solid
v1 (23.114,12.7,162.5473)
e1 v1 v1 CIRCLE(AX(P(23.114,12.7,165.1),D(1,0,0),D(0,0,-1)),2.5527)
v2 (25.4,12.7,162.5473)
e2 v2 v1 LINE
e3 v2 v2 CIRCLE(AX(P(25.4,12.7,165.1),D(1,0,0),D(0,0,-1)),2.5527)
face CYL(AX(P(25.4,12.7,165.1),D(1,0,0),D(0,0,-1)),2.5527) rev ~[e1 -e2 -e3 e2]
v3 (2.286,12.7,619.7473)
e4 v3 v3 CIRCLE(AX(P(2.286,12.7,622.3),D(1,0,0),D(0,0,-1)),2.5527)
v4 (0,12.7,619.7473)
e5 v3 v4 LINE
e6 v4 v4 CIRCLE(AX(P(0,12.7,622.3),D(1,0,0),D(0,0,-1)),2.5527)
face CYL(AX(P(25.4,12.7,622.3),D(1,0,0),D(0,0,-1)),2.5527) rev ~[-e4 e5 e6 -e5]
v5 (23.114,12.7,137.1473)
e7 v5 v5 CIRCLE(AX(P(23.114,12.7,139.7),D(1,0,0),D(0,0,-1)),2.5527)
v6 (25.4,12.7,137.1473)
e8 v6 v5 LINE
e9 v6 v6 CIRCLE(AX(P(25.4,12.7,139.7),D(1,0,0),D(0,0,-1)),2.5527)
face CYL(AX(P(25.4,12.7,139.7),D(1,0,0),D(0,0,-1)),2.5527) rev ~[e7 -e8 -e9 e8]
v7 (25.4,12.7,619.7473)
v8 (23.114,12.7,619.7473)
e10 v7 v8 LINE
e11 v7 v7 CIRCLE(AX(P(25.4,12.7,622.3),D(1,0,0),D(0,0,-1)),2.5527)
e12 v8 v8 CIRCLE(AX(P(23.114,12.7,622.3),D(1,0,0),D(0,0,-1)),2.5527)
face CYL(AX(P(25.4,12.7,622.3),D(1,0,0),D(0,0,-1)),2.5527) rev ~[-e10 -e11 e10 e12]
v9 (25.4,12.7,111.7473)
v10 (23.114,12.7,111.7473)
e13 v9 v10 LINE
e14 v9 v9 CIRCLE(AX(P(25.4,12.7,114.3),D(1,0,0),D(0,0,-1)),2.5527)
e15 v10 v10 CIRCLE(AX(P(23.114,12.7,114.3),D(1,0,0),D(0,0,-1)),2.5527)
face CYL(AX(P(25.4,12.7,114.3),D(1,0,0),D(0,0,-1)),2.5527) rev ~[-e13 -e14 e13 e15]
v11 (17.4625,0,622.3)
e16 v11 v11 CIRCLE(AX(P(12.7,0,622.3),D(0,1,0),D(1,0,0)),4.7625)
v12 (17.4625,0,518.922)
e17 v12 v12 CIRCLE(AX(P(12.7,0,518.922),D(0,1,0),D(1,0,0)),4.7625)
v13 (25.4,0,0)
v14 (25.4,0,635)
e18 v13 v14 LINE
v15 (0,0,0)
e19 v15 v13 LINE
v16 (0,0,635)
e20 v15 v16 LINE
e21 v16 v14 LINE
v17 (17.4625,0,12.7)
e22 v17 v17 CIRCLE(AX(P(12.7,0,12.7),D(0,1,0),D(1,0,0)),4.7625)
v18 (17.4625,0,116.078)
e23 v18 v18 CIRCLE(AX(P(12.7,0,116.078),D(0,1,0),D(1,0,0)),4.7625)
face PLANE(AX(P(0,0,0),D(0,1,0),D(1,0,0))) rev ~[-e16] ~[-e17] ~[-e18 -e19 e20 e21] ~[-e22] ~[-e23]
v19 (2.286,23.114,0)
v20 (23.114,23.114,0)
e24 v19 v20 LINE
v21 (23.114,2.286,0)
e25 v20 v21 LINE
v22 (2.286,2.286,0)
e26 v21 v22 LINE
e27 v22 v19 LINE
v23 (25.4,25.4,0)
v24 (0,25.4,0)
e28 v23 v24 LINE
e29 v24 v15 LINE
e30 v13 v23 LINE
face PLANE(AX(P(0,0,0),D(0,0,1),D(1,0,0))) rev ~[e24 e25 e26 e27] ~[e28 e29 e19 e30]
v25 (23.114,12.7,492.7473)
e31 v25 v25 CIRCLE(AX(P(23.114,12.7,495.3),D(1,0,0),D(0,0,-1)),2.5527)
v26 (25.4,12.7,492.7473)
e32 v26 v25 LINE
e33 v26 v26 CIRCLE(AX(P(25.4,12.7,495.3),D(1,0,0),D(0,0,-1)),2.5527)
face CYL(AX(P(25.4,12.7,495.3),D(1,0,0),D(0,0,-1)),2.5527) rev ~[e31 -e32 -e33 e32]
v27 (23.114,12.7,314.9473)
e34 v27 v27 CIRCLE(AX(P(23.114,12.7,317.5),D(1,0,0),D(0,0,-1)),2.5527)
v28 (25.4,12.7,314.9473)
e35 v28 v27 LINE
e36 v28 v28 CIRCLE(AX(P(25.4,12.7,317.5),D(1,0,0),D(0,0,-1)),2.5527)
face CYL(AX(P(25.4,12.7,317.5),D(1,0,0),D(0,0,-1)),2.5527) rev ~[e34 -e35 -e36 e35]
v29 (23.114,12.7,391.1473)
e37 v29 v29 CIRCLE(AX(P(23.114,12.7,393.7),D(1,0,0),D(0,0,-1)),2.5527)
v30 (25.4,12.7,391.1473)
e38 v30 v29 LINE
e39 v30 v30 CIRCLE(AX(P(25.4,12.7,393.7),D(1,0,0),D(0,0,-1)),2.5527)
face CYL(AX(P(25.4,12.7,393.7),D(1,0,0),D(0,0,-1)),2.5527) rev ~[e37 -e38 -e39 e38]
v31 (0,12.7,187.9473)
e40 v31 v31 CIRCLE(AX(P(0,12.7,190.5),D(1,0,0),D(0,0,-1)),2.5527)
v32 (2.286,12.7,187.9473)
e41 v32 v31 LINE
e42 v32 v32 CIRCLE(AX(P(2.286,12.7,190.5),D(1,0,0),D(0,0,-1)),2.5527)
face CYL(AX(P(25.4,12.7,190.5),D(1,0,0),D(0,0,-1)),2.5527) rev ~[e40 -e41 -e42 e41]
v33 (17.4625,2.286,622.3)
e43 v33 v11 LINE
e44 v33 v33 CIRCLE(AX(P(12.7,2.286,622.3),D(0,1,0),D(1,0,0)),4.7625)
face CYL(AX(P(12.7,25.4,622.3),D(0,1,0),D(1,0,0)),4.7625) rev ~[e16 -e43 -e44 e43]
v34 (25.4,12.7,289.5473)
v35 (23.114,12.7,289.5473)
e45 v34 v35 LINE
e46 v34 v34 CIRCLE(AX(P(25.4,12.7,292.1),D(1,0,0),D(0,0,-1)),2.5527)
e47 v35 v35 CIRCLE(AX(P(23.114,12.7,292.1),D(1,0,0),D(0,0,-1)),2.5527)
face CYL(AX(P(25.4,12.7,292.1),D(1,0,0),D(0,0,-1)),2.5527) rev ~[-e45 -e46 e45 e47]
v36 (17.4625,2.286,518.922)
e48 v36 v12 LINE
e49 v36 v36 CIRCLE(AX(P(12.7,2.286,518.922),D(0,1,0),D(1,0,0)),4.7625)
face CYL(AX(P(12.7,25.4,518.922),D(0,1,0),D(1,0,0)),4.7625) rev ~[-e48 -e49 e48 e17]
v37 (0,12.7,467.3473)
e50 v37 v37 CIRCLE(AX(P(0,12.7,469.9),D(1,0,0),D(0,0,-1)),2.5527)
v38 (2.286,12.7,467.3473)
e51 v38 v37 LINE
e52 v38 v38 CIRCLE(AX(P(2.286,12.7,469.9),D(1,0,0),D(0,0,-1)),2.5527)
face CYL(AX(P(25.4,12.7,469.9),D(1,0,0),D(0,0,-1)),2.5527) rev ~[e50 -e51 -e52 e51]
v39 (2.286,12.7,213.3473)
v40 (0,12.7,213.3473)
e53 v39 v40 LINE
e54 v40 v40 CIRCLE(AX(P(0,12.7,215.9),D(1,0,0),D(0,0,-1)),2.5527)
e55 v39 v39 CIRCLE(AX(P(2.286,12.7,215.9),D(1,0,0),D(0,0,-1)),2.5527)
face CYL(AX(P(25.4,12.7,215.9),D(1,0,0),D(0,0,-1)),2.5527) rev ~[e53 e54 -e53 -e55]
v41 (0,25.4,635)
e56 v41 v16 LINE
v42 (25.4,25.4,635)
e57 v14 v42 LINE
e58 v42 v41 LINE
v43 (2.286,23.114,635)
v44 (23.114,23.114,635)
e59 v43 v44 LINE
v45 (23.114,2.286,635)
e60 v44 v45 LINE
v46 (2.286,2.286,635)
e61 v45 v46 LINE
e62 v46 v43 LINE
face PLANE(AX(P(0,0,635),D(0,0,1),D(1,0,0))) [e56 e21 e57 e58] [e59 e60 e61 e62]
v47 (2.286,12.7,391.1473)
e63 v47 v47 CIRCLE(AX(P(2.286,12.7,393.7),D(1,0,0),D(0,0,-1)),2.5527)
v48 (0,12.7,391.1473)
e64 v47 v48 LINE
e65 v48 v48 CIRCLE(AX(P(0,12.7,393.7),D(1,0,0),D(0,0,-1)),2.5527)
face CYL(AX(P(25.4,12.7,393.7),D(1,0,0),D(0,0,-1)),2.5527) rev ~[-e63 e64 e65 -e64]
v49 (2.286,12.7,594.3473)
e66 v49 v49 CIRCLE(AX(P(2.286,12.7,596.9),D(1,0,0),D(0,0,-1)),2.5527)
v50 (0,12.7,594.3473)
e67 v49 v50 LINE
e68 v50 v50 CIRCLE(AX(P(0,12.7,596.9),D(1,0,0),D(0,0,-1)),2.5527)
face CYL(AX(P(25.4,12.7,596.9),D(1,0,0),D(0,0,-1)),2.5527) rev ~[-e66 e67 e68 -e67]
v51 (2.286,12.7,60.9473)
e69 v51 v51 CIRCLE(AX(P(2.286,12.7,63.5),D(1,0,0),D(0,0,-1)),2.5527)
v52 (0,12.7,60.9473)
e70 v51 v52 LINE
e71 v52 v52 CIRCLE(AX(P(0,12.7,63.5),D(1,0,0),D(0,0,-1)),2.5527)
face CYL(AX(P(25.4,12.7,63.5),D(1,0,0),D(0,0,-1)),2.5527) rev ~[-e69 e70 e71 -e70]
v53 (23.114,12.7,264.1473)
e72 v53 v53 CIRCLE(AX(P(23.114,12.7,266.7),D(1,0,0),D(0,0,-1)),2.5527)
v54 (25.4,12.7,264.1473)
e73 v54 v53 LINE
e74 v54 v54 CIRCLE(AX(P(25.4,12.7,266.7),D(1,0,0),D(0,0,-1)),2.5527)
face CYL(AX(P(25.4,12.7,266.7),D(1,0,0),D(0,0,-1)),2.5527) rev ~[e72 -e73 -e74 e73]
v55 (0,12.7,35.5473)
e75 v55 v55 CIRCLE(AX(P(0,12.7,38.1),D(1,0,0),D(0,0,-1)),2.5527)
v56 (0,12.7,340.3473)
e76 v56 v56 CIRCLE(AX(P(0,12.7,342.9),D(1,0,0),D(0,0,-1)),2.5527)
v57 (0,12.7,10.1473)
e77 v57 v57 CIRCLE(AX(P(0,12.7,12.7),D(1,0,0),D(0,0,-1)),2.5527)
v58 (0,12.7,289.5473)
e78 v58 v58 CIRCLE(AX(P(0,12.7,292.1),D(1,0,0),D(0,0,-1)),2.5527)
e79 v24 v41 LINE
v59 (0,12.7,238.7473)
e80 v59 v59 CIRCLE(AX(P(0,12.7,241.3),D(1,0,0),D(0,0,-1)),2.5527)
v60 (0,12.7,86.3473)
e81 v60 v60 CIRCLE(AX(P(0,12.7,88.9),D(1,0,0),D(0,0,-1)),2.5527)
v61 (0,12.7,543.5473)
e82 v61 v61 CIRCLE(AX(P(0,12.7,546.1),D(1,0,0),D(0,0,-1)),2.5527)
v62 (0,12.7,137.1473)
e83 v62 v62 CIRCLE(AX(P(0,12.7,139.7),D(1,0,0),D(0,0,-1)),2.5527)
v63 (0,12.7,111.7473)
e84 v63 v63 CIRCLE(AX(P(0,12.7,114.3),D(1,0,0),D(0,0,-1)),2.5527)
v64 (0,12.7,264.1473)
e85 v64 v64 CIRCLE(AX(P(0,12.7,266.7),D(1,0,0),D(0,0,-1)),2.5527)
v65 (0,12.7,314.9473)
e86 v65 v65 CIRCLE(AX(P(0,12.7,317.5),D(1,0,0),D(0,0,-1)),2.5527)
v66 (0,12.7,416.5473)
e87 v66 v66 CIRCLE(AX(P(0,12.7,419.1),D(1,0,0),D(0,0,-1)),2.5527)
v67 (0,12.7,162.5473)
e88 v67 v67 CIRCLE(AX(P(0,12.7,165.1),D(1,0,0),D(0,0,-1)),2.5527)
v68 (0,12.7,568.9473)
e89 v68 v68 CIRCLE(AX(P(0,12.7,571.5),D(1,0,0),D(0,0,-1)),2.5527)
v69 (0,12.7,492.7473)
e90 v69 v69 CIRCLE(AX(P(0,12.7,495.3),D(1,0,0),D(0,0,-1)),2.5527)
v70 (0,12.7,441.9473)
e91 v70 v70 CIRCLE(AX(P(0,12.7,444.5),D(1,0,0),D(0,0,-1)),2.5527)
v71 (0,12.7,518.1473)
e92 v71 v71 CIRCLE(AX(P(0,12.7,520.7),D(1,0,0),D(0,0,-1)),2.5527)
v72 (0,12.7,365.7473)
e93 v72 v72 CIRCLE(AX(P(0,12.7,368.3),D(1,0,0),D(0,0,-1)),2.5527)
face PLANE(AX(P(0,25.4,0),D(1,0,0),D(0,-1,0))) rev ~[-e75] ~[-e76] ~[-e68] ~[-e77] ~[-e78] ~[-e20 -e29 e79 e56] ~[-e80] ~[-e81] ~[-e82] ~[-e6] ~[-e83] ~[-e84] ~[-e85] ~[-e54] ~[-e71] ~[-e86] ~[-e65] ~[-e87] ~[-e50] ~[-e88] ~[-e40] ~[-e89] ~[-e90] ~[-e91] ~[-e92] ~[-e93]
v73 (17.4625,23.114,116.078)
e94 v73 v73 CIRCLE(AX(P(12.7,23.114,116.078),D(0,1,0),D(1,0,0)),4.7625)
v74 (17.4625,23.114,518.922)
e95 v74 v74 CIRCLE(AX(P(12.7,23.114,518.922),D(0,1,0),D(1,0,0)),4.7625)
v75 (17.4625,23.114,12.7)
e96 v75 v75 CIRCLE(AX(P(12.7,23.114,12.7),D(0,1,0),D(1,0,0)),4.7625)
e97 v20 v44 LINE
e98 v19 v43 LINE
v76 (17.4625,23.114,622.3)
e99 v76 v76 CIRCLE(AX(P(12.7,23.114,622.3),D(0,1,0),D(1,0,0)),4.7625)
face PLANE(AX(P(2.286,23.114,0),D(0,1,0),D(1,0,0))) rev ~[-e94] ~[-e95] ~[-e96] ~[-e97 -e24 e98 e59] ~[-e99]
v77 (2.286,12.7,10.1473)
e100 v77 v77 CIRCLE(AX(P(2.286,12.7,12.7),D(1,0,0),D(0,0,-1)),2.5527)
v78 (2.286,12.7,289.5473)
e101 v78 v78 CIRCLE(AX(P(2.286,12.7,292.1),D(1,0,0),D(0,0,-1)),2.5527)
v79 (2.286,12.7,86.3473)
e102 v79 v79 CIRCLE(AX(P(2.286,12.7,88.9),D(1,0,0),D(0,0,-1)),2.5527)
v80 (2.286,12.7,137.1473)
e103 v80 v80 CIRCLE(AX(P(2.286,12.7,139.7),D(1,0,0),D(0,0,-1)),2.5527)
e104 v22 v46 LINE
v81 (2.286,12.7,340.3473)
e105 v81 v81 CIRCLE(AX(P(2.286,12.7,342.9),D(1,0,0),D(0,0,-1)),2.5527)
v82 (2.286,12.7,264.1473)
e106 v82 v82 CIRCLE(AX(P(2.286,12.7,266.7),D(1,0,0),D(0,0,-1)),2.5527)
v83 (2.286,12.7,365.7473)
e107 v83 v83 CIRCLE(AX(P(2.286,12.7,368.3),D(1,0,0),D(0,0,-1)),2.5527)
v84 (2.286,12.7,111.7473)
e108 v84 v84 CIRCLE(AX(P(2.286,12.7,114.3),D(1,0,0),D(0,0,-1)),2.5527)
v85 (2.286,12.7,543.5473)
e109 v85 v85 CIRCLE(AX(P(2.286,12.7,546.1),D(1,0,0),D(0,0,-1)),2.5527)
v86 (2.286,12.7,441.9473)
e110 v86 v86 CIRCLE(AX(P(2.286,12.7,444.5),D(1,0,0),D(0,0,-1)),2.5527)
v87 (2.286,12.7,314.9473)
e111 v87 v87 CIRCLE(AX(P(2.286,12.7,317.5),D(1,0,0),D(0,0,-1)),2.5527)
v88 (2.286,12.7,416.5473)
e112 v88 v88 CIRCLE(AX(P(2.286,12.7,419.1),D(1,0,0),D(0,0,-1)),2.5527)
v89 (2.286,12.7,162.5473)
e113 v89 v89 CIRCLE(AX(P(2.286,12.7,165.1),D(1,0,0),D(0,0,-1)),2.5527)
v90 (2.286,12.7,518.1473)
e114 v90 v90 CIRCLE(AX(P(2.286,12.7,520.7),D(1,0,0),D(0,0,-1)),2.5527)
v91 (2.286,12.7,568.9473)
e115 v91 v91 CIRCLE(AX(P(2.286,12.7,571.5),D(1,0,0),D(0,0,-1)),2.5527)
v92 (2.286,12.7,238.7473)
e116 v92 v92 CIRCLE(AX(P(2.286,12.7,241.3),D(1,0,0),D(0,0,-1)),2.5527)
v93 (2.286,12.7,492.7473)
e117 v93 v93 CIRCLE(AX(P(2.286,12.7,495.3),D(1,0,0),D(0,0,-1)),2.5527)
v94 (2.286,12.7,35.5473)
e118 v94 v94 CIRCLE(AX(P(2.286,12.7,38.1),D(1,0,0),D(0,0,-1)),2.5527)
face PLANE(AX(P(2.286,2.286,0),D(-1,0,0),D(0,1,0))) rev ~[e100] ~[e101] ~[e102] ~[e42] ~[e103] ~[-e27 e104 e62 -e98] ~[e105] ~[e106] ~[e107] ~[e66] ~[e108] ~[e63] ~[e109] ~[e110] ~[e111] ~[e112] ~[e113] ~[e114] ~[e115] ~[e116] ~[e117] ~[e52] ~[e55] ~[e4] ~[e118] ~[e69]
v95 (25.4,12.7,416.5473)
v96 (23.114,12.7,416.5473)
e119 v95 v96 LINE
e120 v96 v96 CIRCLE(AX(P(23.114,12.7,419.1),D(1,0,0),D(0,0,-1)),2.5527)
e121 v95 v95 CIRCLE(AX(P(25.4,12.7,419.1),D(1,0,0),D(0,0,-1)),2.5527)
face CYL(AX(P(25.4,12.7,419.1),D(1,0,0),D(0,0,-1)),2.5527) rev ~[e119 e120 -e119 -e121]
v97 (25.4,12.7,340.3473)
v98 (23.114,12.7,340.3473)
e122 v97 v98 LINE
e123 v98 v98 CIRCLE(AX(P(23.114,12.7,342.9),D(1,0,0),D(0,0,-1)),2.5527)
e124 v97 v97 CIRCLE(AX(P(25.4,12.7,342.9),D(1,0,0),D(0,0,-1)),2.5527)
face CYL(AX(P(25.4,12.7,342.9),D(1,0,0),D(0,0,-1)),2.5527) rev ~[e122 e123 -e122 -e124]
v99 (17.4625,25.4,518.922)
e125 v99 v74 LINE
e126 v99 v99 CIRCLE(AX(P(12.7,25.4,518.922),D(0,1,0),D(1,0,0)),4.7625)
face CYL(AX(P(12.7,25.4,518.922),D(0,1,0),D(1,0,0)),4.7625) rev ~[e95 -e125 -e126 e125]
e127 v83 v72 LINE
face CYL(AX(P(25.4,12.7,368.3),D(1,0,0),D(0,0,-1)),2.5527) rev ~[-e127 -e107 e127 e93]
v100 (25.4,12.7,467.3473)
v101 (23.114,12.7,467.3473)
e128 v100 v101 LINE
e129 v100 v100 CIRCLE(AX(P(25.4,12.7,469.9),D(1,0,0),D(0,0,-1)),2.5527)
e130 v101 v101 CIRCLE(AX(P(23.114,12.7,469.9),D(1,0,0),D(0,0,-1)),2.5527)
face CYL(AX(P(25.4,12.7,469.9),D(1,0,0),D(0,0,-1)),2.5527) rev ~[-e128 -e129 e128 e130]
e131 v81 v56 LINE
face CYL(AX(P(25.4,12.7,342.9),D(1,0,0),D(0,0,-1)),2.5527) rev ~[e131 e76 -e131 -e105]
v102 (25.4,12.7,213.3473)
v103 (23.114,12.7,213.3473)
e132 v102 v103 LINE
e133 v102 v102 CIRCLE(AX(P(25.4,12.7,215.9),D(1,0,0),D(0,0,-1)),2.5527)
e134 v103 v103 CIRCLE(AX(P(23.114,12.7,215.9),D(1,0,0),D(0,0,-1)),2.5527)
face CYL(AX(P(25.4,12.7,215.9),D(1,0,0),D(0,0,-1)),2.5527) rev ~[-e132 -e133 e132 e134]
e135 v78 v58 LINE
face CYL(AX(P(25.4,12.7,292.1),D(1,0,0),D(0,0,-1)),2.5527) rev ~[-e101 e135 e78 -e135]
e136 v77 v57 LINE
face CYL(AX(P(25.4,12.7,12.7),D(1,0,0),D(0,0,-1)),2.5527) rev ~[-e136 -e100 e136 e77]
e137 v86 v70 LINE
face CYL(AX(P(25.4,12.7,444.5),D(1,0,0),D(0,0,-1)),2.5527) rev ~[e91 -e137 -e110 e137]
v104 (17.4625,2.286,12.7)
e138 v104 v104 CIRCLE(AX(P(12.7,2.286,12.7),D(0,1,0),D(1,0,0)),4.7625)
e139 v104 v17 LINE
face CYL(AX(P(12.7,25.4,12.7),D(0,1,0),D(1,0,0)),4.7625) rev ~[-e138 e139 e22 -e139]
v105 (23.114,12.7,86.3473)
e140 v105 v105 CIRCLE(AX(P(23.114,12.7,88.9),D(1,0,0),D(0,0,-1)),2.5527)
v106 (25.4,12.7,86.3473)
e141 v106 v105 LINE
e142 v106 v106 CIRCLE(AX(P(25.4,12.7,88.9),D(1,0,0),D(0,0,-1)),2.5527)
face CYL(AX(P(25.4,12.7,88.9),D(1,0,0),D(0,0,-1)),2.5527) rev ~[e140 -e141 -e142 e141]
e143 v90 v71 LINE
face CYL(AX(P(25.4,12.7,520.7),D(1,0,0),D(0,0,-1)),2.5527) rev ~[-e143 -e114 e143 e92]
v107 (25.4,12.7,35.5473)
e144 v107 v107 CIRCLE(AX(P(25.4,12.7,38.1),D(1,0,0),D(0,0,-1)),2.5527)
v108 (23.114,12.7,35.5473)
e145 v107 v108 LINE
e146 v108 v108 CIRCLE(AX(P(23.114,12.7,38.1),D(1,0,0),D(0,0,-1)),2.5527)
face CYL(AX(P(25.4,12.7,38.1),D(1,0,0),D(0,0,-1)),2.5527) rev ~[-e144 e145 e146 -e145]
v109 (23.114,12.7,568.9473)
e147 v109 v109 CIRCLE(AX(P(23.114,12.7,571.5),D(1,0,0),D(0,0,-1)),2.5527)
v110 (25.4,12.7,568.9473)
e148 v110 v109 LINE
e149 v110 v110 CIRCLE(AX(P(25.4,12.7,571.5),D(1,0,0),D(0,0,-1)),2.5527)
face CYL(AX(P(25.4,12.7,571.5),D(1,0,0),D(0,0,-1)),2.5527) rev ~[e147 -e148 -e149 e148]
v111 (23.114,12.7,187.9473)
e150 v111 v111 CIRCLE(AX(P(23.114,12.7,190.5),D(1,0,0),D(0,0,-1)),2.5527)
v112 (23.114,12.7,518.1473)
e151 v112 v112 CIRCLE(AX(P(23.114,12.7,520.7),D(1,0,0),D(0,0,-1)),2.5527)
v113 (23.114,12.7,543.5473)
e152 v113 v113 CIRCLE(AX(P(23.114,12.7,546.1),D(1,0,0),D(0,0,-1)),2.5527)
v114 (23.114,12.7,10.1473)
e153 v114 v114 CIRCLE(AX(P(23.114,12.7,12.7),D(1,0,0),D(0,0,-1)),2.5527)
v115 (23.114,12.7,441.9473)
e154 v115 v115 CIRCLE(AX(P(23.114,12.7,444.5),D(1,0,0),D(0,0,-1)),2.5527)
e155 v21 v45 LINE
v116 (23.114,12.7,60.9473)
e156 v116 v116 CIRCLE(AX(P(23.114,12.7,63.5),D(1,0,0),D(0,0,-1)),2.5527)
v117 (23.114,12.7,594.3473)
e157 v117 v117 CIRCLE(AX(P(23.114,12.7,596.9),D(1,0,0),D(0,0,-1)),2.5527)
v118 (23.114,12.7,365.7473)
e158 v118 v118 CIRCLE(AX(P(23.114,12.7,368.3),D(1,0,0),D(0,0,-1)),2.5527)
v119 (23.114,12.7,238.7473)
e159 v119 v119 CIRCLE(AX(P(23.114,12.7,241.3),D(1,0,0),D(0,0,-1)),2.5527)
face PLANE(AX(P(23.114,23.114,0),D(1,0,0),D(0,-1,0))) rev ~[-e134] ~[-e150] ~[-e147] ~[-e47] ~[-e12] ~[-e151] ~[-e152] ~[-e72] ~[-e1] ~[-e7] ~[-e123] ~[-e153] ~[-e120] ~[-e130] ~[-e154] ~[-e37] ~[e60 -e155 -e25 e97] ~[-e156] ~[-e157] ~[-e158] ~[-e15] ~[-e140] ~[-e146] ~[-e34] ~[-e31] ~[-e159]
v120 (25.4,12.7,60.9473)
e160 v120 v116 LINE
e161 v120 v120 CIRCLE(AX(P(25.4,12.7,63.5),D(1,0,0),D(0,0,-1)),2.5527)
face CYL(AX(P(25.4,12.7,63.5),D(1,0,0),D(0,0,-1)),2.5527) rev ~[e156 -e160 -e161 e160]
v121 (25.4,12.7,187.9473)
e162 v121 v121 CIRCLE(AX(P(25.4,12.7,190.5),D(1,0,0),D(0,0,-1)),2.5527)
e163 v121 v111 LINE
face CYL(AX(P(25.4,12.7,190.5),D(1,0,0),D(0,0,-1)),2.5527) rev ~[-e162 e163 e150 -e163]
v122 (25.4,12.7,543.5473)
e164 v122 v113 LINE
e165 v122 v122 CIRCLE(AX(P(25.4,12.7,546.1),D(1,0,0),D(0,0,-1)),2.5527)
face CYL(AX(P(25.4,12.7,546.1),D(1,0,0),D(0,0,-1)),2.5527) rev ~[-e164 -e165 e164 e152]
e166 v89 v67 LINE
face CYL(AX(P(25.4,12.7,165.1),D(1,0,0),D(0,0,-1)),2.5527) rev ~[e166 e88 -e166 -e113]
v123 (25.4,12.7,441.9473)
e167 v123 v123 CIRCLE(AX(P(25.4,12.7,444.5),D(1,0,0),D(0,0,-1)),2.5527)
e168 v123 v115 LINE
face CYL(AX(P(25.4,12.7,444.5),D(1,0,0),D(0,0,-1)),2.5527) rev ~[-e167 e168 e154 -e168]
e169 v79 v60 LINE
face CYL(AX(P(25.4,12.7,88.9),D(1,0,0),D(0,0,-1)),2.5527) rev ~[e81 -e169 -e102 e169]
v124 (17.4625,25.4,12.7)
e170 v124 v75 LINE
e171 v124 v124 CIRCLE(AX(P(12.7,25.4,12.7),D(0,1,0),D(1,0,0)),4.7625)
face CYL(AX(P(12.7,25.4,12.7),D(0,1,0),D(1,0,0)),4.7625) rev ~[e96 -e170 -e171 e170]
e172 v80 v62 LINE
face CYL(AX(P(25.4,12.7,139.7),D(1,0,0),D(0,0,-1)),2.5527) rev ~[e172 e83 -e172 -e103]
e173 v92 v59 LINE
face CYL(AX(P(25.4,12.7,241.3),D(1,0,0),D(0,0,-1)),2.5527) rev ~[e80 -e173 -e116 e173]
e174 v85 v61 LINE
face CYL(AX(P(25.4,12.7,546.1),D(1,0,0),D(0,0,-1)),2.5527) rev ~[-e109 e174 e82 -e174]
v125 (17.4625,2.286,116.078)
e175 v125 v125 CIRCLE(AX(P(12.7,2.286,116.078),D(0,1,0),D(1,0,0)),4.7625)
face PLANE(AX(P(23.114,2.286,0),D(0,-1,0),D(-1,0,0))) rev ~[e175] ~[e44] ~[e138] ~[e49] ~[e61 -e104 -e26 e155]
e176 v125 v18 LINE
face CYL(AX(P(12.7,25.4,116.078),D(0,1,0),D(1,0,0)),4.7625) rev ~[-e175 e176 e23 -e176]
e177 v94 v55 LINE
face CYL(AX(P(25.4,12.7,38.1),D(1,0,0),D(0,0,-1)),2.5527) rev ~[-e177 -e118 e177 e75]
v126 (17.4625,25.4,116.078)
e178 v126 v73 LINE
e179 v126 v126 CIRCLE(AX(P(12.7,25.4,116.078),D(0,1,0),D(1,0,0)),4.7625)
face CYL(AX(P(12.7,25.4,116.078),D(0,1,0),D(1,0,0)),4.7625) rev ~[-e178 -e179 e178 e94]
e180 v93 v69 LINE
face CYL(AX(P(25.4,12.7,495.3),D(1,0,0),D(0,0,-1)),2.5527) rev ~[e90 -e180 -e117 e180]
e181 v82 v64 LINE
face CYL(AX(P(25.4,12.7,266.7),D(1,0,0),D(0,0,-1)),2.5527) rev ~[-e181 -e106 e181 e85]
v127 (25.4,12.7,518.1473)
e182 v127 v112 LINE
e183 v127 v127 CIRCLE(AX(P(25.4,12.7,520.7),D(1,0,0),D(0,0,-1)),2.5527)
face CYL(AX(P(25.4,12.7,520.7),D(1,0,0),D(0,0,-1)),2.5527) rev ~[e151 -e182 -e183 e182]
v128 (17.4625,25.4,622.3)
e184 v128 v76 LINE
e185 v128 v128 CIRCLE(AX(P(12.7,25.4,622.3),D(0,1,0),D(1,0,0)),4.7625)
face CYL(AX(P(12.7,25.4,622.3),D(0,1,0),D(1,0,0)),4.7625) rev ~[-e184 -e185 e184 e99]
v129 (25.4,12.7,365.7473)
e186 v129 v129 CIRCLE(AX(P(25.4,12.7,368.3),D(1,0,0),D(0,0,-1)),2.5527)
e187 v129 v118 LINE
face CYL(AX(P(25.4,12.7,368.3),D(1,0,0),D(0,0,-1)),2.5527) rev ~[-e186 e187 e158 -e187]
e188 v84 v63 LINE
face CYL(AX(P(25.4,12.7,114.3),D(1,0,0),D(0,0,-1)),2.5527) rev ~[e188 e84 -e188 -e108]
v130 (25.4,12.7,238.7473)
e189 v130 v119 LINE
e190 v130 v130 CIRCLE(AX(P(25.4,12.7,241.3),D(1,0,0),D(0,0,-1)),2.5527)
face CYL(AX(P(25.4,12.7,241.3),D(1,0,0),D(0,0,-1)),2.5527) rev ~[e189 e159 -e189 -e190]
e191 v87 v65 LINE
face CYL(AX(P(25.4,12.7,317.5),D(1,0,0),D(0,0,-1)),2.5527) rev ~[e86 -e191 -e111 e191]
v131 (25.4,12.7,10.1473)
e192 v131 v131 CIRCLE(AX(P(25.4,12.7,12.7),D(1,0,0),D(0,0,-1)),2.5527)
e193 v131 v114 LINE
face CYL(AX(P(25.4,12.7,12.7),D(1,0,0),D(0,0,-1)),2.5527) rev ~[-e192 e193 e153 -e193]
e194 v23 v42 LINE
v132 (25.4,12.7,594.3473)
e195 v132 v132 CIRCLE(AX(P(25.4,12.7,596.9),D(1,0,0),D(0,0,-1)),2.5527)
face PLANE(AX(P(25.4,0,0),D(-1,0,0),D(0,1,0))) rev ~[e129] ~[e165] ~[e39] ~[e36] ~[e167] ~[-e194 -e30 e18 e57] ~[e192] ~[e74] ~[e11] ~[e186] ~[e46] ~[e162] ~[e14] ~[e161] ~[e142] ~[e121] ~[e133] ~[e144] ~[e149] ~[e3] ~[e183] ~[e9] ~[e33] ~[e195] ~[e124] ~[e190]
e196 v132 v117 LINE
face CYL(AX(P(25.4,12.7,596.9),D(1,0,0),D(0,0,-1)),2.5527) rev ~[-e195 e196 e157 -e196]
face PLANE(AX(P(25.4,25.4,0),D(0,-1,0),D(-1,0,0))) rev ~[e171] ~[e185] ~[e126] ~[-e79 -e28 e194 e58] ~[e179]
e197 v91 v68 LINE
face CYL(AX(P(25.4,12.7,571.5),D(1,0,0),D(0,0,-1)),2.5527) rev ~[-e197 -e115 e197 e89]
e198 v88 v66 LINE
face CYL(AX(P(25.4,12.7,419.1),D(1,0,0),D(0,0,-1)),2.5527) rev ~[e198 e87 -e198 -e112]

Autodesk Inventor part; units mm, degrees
ref_plane "YZ Plane" through (0, 0, 0) normal (1, 0, 0) x (0, 1, 0)
ref_plane "XZ Plane" through (0, 0, 0) normal (0, 1, 0) x (-1, 0, 0)
ref_plane "XY Plane" through (0, 0, 0) normal (0, 0, 1) x (1, 0, 0)
sketch "Sketch2" plane through (0, 0, 0) normal (0, 0, 1) x (1, 0, 0)
  line L0 (0, 0) -> (25.4, 0)
  line L1 (25.4, 0) -> (25.4, 25.4)
  line L2 (25.4, 25.4) -> (0, 25.4)
  line L3 (0, 25.4) -> (0, 0)
  line L4 (23.114, 23.114) -> (23.114, 2.286)
  line L5 (23.114, 2.286) -> (2.286, 2.286)
  line L6 (2.286, 2.286) -> (2.286, 23.114)
  line L7 (2.286, 23.114) -> (23.114, 23.114)
  dimension "d0" = 25.4
  dimension "d1" = 25.4
  dimension "d2" = 2.286
extrude "Extrusion1" add sketch "Sketch2" along normal blind 635
sketch "Sketch3" plane through (25.4, 0, 0) normal (1, 0, 0) x (0, 0, -1)
  circle A0 centre (-12.7, 12.7) radius 2.5527
  line L0 (0, 0) -> (-635, 0) projected
  line L1 (0, 0) -> (0, 25.4) projected
  dimension "d5" = 5.1054
  dimension "d6" = 12.7
  dimension "d7" = 12.7
extrude "Extrusion2" cut sketch "Sketch3" against normal blind 609.6
pattern_linear "Rectangular Pattern1" count 25 spacing 25.4 along (0, 0, 1) of "Extrusion2"
sketch "Sketch4" plane through (0, 25.4, 0) normal (0, 1, 0) x (1, 0, 0)
  point P0 (0, 0)
sketch "Sketch5" plane through (0, 25.4, 0) normal (0, 1, 0) x (1, 0, 0)
  circle A0 centre (12.7, -12.7) radius 4.7625
  line L0 (25.4, 0) -> (0, 0) projected
  line L1 (0, 0) -> (0, -635) projected
  circle A1 centre (12.7, -116.078) radius 4.7625
  circle A2 centre (12.7, -622.3) radius 4.7625
  circle A3 centre (12.7, -518.922) radius 4.7625
  line L2 (25.4, -635) -> (0, -635) projected
  line L3 (25.4, 0) -> (25.4, -635) projected
  point P0 (12.7, 0)
  dimension "d13" = 12.7
  dimension "d14" = 12.7
  dimension "d15" = 9.525
  dimension "d16" = 9.525
  dimension "d17" = 103.378
  dimension "d18" = 12.7
  dimension "d19" = 9.525
  dimension "d20" = 9.525
  dimension "d21" = 103.378
  dimension "d22" = 12.7
  dimension "d23" = 12.7
  dimension "d24" = 12.7
extrude "Extrusion3" cut sketch "Sketch5" against normal blind 635 contours A0 | A1 | A2 | A3
properties part number "Leg_tube"
